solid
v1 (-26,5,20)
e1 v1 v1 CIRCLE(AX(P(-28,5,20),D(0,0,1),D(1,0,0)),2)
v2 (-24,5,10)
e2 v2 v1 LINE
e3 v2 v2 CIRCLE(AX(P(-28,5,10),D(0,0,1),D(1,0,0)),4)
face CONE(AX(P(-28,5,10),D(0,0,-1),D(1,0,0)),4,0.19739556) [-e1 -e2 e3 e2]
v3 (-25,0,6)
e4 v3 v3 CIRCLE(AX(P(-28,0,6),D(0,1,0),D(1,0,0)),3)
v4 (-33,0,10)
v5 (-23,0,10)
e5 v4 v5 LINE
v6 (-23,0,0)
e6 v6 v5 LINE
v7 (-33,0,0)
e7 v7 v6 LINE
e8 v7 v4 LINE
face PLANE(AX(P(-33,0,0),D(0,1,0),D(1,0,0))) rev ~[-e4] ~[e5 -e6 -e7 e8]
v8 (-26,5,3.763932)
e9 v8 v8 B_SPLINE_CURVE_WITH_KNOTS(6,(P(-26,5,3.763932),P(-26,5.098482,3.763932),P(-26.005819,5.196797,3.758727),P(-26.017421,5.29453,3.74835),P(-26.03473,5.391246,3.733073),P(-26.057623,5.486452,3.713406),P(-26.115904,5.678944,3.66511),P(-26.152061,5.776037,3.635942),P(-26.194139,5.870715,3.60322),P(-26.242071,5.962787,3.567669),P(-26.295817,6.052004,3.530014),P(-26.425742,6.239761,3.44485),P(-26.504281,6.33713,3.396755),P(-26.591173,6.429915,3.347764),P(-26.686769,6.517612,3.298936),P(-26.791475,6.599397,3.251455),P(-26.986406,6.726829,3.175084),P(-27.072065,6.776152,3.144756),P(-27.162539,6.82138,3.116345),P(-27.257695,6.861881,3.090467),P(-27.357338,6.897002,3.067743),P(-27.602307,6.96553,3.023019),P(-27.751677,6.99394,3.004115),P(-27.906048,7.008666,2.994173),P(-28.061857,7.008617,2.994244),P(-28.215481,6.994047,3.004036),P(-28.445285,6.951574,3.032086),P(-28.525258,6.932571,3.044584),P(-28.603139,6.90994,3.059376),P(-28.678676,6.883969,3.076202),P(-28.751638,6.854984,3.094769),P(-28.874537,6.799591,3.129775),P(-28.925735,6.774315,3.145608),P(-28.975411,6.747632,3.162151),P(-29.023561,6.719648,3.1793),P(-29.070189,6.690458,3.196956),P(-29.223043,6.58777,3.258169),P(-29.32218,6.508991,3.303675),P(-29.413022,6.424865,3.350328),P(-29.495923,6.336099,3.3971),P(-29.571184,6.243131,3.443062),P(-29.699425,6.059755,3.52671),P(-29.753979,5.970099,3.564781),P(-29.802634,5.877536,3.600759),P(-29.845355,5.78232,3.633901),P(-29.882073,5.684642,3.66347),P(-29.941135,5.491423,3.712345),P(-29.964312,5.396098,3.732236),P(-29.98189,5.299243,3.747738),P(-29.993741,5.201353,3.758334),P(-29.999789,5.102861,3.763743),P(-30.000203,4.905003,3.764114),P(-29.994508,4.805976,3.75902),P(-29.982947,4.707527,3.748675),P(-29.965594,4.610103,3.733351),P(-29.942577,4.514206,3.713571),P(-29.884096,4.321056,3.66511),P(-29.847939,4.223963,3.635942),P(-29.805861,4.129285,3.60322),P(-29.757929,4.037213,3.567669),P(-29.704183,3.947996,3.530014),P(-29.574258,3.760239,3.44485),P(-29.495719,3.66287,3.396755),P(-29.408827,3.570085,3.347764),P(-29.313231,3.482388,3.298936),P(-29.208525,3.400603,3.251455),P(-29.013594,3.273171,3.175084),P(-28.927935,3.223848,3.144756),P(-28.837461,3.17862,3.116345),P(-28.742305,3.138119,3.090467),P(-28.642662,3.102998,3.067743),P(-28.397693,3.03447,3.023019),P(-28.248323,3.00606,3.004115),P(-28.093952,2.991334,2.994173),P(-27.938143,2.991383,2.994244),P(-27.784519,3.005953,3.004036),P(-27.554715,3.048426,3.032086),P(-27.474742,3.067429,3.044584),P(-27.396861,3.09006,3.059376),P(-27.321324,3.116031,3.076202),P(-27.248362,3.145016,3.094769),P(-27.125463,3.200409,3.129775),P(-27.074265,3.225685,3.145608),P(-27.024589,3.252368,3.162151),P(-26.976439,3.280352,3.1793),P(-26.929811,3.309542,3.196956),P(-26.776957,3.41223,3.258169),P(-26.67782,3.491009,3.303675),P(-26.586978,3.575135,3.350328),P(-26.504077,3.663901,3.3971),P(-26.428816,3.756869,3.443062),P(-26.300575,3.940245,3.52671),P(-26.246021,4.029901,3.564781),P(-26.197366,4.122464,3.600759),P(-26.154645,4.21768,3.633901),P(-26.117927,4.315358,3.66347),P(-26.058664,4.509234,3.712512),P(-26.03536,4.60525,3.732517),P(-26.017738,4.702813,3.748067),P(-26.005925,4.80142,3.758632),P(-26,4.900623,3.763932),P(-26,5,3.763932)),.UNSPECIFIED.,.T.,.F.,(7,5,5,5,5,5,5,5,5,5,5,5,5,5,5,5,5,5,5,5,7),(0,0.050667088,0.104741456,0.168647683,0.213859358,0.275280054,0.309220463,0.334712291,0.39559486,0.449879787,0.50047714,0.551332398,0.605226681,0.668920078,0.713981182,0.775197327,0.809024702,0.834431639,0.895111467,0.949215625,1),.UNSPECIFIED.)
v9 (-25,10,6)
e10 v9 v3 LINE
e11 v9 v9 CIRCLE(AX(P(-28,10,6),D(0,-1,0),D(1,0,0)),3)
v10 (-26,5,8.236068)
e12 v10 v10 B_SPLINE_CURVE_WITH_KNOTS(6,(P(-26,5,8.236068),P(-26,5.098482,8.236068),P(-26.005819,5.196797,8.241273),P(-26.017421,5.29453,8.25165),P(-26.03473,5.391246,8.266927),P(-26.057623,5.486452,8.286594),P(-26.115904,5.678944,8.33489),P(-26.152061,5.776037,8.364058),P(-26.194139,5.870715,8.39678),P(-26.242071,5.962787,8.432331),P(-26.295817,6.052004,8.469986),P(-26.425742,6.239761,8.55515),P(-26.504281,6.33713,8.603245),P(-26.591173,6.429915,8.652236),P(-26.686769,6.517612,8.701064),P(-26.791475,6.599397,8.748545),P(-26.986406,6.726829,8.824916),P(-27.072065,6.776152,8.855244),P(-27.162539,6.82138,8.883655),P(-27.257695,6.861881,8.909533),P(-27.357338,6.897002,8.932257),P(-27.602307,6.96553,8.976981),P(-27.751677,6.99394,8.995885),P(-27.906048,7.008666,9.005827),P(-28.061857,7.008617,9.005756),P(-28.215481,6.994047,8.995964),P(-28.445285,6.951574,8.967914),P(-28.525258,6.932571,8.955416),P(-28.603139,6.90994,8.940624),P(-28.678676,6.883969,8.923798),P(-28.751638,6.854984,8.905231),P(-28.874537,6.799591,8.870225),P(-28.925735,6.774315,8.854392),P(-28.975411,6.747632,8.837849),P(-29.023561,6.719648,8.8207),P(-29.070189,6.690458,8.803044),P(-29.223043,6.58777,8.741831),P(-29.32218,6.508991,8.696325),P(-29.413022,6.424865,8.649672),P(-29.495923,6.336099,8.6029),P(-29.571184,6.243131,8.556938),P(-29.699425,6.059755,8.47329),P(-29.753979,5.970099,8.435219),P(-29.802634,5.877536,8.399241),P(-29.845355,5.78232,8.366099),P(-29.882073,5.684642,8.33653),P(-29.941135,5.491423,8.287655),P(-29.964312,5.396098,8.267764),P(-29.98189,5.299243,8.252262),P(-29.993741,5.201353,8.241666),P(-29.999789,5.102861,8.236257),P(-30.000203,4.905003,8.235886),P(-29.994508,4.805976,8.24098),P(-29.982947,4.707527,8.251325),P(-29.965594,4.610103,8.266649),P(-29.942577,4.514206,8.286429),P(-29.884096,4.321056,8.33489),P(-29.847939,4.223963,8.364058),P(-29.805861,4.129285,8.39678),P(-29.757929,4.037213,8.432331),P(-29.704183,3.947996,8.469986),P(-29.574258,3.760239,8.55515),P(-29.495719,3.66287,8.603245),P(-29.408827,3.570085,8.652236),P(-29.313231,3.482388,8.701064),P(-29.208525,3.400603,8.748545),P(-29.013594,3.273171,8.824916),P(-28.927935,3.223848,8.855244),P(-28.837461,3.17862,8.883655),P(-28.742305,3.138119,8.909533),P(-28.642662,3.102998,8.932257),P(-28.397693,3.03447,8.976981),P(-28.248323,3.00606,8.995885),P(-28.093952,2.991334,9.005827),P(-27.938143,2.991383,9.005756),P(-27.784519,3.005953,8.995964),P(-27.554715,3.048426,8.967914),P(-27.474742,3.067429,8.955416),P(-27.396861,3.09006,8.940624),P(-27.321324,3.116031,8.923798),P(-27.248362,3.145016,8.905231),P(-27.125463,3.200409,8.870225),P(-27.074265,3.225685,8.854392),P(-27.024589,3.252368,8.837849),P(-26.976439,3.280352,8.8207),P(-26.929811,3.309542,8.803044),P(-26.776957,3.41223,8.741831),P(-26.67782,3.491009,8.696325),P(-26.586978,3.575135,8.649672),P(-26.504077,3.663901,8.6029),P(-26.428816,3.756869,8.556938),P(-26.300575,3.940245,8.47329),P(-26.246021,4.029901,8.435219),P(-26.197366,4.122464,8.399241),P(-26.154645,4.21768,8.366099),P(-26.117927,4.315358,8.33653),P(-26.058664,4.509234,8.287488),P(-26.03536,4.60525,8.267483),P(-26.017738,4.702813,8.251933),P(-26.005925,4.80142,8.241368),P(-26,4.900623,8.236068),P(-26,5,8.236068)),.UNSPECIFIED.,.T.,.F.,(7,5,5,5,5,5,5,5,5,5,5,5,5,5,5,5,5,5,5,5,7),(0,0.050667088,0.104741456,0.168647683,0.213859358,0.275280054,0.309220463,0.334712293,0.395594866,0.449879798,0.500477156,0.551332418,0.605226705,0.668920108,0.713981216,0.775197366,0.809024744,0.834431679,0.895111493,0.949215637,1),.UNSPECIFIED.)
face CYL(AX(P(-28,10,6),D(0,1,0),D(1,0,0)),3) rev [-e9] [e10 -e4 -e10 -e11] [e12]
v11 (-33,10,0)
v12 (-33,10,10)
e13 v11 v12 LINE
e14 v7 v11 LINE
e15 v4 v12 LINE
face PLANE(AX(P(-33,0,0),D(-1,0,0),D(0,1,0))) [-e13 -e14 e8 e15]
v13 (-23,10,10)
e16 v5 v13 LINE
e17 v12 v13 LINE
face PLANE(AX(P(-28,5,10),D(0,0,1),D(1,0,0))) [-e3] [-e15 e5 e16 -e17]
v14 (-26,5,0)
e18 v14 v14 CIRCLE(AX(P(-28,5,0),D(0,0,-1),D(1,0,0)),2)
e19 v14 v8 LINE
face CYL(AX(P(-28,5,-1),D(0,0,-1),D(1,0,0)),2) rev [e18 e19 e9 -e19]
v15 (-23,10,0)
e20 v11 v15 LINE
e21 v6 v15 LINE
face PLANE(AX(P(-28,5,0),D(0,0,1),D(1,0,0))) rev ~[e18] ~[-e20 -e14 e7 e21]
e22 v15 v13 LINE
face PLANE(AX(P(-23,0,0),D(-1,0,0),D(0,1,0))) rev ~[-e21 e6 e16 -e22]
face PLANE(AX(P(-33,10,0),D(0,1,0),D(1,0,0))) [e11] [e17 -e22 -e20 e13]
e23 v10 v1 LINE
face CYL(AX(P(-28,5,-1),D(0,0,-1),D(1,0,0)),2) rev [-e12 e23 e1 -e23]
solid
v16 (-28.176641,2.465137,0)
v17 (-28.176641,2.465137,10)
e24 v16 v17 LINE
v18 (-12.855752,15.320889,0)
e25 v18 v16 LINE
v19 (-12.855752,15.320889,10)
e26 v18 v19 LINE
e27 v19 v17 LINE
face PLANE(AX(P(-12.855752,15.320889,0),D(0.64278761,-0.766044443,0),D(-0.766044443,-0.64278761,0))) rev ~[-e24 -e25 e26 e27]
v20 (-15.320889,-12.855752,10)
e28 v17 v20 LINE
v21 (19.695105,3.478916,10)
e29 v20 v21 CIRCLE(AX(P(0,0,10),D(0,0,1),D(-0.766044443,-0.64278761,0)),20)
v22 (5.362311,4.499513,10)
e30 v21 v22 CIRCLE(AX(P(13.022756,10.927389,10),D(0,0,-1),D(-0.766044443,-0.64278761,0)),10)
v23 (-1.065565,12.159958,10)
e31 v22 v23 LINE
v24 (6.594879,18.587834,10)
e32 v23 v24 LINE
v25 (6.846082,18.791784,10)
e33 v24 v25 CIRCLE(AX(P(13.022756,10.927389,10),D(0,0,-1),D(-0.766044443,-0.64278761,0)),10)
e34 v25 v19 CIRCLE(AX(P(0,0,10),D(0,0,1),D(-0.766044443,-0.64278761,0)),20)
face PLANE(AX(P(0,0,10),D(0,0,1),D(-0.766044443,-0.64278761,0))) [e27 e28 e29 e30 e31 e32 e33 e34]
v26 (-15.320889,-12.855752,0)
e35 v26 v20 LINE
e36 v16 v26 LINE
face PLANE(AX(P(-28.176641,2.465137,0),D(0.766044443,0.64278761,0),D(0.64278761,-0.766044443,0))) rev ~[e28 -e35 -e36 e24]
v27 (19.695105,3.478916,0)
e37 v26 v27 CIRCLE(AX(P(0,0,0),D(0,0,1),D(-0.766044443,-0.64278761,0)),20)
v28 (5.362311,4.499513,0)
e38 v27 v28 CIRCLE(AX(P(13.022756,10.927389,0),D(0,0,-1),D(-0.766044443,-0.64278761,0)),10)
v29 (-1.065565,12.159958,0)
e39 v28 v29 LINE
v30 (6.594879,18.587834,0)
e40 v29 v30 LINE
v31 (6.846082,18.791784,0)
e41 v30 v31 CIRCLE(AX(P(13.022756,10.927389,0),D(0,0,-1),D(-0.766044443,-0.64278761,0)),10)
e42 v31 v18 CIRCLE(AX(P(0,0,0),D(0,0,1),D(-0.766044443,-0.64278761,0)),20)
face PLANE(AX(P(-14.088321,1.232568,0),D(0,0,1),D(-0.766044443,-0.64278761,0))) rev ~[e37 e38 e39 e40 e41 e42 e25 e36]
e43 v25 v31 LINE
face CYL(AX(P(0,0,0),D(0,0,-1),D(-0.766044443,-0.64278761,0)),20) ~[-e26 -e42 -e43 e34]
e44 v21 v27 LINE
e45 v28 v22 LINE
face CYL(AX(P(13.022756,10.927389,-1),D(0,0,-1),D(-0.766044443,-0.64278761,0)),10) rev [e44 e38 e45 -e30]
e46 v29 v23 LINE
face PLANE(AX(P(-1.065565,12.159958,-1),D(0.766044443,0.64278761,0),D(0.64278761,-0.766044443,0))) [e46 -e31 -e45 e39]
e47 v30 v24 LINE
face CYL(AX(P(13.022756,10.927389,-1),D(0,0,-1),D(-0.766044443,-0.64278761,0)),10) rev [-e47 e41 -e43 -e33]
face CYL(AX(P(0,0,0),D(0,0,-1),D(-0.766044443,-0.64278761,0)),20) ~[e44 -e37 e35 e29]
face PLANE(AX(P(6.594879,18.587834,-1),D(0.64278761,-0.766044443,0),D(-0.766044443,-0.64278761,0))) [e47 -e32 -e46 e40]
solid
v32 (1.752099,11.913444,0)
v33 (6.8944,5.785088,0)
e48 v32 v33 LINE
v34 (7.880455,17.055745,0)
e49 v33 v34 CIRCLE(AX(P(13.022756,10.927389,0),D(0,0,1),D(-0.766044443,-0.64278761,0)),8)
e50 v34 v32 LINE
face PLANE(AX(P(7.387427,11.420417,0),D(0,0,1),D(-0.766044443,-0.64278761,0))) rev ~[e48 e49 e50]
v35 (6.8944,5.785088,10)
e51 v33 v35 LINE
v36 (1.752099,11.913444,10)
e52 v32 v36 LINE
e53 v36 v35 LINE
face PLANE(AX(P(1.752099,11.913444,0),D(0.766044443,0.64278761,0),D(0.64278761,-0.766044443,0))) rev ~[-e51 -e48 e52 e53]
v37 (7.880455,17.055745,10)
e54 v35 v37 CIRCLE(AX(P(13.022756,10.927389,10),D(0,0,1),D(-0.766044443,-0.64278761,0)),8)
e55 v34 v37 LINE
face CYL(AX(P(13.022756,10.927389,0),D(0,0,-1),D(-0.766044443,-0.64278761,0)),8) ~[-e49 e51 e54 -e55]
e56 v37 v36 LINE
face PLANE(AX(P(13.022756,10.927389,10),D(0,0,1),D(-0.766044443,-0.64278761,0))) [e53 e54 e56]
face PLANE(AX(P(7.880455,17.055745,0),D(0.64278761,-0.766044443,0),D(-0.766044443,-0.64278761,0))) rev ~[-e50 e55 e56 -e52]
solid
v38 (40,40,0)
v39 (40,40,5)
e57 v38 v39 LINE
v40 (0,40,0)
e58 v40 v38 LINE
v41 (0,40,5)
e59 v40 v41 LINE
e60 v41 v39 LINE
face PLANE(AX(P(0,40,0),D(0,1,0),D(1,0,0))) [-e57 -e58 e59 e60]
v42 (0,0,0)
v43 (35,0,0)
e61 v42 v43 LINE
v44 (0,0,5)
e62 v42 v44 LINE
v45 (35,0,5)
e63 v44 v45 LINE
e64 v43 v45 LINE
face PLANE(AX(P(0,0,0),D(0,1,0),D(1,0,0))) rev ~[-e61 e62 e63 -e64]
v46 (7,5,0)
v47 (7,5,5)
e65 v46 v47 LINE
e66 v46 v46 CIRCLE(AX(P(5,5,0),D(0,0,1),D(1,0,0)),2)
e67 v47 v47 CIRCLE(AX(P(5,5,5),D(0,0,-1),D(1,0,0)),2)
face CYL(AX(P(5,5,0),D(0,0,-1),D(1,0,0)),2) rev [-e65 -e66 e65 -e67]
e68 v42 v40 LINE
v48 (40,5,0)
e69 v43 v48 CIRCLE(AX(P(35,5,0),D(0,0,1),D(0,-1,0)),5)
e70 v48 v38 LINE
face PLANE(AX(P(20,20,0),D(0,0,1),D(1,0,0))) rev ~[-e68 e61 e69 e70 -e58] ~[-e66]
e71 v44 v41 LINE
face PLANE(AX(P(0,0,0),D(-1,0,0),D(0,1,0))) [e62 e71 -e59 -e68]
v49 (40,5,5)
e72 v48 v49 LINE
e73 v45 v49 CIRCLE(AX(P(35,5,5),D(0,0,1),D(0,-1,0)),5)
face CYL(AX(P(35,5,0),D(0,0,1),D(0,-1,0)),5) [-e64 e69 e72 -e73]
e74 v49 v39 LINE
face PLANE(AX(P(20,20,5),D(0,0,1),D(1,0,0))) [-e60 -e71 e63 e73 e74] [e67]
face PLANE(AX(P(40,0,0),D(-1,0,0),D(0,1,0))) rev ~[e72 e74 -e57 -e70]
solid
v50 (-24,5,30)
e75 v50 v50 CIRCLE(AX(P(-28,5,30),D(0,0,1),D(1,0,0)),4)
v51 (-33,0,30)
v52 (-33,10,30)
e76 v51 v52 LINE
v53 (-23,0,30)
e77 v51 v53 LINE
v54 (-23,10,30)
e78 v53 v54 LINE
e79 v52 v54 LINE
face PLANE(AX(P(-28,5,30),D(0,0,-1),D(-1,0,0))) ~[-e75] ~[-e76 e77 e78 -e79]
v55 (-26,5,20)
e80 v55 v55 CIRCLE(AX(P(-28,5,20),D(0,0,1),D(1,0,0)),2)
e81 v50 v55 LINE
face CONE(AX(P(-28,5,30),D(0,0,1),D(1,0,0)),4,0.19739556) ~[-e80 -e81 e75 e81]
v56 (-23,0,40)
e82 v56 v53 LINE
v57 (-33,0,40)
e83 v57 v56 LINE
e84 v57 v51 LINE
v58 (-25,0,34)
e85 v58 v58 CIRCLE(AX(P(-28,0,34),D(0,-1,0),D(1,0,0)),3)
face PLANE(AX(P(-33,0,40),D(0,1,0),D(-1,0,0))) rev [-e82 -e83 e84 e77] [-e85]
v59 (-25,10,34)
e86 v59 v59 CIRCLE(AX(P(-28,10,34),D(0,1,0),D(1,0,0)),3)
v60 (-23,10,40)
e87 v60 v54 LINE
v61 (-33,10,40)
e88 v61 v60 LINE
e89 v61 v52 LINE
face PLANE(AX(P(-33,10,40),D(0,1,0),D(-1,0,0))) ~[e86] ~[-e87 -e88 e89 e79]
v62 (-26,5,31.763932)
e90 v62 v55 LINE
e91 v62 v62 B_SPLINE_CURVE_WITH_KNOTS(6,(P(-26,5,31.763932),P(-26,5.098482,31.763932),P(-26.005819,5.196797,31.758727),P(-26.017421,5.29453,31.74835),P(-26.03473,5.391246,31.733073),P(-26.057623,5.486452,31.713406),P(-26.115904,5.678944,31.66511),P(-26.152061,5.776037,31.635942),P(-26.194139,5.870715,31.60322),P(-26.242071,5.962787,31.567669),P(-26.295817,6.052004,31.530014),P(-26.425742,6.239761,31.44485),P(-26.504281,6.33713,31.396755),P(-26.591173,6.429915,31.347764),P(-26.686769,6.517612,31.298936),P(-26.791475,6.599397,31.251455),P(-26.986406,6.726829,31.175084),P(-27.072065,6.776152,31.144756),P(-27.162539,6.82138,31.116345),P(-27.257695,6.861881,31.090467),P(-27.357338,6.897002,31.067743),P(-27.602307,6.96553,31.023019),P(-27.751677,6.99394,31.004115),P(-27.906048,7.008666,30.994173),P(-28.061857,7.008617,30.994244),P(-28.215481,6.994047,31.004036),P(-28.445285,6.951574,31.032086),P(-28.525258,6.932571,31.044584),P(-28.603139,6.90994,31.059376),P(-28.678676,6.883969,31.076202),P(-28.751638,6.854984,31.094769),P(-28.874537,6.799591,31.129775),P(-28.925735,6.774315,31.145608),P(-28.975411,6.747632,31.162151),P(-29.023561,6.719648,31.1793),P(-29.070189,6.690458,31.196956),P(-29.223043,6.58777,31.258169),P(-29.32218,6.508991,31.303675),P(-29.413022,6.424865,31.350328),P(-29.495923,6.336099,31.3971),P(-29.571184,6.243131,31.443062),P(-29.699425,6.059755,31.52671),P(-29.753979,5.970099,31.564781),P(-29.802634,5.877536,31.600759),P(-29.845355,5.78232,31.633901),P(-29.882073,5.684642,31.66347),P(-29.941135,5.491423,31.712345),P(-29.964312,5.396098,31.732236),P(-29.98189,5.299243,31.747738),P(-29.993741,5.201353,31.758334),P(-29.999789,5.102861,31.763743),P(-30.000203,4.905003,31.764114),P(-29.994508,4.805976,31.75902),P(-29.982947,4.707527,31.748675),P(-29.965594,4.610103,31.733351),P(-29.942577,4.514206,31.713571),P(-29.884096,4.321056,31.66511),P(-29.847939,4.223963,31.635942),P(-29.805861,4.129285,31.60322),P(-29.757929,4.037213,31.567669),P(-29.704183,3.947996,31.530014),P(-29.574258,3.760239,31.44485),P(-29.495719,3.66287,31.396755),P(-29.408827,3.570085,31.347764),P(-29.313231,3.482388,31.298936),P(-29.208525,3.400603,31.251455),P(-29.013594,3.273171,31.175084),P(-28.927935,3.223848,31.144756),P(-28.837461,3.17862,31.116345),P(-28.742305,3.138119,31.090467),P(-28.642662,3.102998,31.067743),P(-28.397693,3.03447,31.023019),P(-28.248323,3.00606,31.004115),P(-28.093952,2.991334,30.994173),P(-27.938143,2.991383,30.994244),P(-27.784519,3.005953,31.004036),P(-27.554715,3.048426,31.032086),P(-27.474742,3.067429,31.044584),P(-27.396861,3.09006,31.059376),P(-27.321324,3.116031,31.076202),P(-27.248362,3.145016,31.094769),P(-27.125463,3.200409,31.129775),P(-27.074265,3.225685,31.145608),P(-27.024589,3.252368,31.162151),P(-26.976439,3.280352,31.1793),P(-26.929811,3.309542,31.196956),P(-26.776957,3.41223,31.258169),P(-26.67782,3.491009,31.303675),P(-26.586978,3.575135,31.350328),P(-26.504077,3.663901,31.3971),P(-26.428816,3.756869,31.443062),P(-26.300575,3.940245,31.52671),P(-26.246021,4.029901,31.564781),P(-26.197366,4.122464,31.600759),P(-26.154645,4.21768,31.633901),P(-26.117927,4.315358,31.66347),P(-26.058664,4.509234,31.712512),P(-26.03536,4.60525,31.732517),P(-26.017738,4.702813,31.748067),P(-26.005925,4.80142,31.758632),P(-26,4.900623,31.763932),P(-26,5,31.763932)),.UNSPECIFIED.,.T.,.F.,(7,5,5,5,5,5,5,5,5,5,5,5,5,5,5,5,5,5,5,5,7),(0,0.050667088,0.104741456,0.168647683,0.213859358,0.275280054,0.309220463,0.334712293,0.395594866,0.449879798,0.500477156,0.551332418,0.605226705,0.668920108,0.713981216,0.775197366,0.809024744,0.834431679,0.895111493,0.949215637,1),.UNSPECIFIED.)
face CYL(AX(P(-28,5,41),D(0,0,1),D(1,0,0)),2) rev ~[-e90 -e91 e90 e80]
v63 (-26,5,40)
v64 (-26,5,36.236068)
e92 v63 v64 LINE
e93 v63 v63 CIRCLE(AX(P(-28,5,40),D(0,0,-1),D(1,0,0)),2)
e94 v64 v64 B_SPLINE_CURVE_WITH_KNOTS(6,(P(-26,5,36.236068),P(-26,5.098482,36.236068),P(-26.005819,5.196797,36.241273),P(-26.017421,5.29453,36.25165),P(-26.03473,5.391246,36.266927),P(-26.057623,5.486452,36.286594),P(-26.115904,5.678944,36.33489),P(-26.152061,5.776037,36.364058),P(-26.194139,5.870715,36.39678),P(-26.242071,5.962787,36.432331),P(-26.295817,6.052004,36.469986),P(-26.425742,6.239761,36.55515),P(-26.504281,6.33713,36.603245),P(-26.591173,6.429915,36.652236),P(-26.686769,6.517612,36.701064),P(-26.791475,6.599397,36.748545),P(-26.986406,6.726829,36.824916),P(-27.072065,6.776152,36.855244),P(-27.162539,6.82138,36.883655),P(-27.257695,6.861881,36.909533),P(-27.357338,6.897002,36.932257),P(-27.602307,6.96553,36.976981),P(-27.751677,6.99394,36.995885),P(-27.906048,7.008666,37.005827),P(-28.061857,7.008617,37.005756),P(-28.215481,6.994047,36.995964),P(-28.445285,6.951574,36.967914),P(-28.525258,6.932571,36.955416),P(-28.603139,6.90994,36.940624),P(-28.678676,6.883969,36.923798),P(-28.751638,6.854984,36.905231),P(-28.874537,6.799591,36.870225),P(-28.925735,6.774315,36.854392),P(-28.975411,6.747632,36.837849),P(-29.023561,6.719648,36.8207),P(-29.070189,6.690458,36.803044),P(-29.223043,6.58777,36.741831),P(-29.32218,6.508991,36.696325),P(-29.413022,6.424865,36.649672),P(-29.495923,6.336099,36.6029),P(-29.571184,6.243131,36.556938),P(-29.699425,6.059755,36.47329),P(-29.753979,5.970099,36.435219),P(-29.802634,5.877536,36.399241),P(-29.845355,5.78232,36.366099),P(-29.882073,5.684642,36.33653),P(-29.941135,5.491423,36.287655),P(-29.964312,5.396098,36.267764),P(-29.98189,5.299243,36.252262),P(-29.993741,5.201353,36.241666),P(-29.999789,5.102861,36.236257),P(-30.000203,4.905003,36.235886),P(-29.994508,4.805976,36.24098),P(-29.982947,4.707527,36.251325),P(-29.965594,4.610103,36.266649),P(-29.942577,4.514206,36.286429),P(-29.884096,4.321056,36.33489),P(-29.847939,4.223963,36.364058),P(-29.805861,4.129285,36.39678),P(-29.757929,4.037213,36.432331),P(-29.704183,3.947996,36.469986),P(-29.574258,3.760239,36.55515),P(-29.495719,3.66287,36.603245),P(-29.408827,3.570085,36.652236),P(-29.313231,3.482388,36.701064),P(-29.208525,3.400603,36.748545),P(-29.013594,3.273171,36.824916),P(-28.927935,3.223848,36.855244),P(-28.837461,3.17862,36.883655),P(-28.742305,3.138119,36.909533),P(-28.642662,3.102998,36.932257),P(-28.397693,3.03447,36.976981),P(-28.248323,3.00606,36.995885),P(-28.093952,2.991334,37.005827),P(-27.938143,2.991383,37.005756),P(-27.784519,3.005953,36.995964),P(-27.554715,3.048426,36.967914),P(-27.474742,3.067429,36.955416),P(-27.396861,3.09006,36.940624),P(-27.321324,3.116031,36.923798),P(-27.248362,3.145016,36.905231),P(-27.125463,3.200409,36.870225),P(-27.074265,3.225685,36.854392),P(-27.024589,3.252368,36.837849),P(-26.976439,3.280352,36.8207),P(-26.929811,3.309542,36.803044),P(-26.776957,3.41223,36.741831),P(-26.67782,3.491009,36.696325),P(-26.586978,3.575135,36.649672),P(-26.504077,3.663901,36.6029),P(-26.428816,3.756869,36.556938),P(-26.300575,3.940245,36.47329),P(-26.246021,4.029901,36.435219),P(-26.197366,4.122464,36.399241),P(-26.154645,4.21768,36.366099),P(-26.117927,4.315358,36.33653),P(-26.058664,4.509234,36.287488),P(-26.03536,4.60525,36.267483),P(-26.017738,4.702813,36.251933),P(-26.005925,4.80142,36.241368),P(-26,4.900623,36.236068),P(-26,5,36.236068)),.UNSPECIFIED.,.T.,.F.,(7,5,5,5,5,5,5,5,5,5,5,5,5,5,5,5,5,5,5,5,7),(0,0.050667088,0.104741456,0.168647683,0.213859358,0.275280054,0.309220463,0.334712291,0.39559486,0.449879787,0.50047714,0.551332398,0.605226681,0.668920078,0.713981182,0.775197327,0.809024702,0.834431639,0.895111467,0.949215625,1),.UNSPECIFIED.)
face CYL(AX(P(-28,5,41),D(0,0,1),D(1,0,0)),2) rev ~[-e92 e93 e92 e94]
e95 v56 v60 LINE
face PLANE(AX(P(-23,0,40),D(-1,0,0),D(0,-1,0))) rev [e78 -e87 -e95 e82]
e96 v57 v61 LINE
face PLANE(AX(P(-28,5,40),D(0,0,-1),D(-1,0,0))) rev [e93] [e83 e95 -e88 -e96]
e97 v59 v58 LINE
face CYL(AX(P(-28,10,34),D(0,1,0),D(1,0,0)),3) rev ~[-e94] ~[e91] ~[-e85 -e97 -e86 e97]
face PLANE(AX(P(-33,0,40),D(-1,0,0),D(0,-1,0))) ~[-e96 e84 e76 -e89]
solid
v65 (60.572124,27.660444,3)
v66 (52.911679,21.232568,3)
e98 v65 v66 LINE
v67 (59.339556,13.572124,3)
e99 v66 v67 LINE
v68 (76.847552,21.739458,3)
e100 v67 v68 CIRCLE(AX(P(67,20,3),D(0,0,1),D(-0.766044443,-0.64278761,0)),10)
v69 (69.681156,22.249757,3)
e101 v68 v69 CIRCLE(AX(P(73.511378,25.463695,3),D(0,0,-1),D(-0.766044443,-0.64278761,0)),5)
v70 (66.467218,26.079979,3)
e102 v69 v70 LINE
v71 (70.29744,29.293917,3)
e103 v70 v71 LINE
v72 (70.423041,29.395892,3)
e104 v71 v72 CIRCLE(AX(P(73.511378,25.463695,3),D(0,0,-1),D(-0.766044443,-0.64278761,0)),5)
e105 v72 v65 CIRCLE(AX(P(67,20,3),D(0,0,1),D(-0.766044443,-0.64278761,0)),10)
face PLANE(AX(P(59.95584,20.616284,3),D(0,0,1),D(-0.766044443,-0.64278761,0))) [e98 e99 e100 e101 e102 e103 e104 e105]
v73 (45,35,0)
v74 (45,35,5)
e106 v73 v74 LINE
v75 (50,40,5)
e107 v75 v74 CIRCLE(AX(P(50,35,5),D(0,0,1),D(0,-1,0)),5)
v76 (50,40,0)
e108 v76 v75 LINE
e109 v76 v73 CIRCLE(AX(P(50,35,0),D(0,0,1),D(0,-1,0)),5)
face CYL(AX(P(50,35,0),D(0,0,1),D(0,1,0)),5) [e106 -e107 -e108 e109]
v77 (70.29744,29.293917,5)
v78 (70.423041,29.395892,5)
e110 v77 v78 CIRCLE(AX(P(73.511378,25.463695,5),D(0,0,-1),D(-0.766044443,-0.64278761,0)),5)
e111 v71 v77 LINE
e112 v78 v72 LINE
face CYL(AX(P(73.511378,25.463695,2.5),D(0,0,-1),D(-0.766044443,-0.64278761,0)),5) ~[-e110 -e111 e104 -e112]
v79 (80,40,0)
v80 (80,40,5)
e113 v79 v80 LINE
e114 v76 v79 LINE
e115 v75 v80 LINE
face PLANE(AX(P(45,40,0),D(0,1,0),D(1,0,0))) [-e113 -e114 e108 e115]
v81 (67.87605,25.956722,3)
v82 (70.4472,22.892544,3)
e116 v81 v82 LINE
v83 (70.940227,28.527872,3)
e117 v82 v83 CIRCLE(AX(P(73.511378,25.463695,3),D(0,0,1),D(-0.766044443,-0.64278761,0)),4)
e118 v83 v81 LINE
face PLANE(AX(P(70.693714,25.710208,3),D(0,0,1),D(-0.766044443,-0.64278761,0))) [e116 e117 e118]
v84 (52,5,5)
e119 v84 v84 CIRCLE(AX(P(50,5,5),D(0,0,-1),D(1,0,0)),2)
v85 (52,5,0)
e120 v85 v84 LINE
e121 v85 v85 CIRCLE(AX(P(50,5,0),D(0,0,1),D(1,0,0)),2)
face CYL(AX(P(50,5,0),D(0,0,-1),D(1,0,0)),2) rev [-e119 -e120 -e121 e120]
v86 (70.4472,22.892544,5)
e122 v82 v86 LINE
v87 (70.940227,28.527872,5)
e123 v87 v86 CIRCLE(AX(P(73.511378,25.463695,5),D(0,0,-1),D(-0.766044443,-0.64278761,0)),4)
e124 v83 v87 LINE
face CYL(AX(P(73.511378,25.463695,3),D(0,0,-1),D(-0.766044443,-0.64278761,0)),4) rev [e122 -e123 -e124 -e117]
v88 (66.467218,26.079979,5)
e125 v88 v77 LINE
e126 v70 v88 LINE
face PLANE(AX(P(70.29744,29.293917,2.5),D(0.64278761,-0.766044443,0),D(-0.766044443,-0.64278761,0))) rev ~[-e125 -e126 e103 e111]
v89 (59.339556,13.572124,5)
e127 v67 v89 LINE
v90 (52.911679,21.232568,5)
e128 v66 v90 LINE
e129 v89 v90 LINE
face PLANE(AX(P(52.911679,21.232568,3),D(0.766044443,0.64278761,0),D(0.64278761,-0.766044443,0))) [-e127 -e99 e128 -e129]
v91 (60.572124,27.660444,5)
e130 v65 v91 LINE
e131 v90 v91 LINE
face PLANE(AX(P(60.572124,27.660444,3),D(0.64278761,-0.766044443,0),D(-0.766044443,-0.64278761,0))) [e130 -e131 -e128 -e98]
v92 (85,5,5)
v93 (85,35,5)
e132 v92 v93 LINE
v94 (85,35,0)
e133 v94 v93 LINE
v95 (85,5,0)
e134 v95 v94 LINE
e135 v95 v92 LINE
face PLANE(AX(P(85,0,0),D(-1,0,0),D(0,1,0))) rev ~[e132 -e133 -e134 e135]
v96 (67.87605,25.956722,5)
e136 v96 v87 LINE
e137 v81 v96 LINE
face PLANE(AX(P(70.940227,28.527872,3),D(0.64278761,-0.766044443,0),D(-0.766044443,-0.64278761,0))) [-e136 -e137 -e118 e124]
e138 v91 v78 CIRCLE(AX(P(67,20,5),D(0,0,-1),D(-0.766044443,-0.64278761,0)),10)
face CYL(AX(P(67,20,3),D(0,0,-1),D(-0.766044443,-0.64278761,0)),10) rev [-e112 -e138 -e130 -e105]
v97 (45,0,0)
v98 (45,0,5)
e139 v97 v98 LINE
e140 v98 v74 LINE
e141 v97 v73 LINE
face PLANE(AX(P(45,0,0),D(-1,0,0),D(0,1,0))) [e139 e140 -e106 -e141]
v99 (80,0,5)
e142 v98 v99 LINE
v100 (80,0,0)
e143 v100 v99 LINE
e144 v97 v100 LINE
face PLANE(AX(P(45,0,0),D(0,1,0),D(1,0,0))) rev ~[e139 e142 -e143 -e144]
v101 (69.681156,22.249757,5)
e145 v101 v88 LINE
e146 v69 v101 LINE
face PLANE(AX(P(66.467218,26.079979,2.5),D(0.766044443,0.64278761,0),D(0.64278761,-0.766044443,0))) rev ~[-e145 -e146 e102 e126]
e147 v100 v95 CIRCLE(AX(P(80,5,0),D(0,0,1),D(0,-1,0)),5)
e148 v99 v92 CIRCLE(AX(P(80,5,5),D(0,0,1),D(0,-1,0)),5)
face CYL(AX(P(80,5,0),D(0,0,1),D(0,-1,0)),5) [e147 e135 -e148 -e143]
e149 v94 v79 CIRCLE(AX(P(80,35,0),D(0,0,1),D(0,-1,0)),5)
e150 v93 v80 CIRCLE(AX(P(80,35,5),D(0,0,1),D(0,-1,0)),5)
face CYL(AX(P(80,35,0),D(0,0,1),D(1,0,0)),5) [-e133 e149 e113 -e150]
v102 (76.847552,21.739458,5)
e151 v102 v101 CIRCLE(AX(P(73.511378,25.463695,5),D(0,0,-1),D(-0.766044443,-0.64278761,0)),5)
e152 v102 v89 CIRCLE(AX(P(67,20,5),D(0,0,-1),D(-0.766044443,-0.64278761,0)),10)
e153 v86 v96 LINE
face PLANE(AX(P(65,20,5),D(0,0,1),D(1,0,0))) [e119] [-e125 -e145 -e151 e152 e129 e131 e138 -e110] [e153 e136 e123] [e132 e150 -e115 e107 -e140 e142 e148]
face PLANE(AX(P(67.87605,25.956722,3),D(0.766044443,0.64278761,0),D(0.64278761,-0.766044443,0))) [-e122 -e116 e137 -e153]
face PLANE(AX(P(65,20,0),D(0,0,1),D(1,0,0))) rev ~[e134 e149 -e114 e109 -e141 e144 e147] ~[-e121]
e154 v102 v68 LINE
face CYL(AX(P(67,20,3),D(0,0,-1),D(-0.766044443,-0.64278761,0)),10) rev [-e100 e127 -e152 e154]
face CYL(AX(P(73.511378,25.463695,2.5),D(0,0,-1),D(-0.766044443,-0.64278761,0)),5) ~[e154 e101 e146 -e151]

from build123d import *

# Parameters (mm, degrees)
CYLINDER003_R             = 2
CYLINDER003_DEPTH         = 22
CYLINDER002_R             = 3
CYLINDER002_DEPTH         = 100
CYLINDER002_ROLL_ANGLE    = 90
BOX001_W                  = 10
BOX001_H                  = 10
BOX001_DEPTH              = 10
CYLINDER001_R             = 2
CYLINDER001_DEPTH         = 22
CYLINDER_R                = 3
CYLINDER_DEPTH            = 100
CYLINDER_ROLL_ANGLE       = 90
BOX_W                     = 10
BOX_H                     = 10
BOX_DEPTH                 = 10
CYLINDER005_R             = 2
CYLINDER005_DEPTH         = 10
BOX004_W                  = 40
BOX004_H                  = 40
BOX004_DEPTH              = 5
FILLET003_R               = 5
BOX006_W                  = 10
BOX006_H                  = 10
BOX006_DEPTH              = 12
CYLINDER007_R             = 10
CYLINDER007_DEPTH         = 12
BOX005_W                  = 20
BOX005_H                  = 20
BOX005_DEPTH              = 10
CYLINDER006_R             = 20
CYLINDER006_DEPTH         = 10
BOX003_W                  = 8
BOX003_H                  = 8
BOX003_DEPTH              = 10
CYLINDER008_R             = 8
CYLINDER008_DEPTH         = 10
FUSION006_PLACEMENT_ANGLE = 220
CLONE_SCALE_SCALE         = 0.5
CYLINDER004_R             = 2
CYLINDER004_DEPTH         = 10
BOX002_W                  = 40
BOX002_H                  = 40
BOX002_DEPTH              = 5
FILLET_R                  = 5
FILLET001_R               = 5
FILLET002_R               = 5


with BuildPart() as cylinder003:
    # Cylinder003 → Cylinder003 (new body)
    with BuildSketch(Plane(origin=(5, 5, -1), x_dir=(1, 0, 0), z_dir=(0, 0, 1))):
        Circle(CYLINDER003_R)
    extrude(amount=CYLINDER003_DEPTH)


with BuildPart() as cone001:
    # Cone001 → Cone001 (revolve)
    with BuildSketch(Plane(origin=(5, 5, 10), x_dir=(1, 0, 0), z_dir=(0, -1, 0))):
        Polygon((0, 0), (4, 0), (2, 10), (0, 10), align=None)
    revolve(axis=Axis((5, 5, 10), (0, 0, 1)))


with BuildPart() as cylinder002:
    # Cylinder002 → Cylinder002 (new body)
    with BuildSketch(Plane.XY):
        Circle(CYLINDER002_R)
    extrude(amount=CYLINDER002_DEPTH)


with BuildPart() as cylinder002_1:
    # Cylinder002 roll: moved
    add(cylinder002.part.rotate(Axis((0, 0, 0), (1, 0, 0)), CYLINDER002_ROLL_ANGLE))


with BuildPart() as cylinder002_2:
    # Cylinder002 placement: moved
    add(cylinder002_1.part.moved(Location((5, 10, 6))))


with BuildPart() as cut003:
    # Box001 → Box001 (new body)
    with BuildSketch(Plane.XY):
        with Locations((5, 5)):
            Rectangle(BOX001_W, BOX001_H)
    extrude(amount=BOX001_DEPTH)

    # Cut002: cut Cylinder002
    add(cylinder002_2.part, mode=Mode.SUBTRACT)

    # Fusion001: union Cone001
    add(cone001.part)

    # Cut003: cut Cylinder003
    add(cylinder003.part, mode=Mode.SUBTRACT)


with BuildPart() as cut003_1:
    # Cut003 placement: moved
    add(cut003.part.moved(Location((23, 0, 0))))


with BuildPart() as part_mirroring:
    # Part__Mirroring: instance of Cut003
    add(cut003_1.part.mirror(Plane(origin=(0, 0, 0), x_dir=(0, 1, 0), z_dir=(0, 0, 1))))


with BuildPart() as part_mirroring_1:
    # Part__Mirroring placement: moved
    add(part_mirroring.part.moved(Location((-23, 0, 40))))


with BuildPart() as cylinder001:
    # Cylinder001 → Cylinder001 (new body)
    with BuildSketch(Plane(origin=(5, 5, -1), x_dir=(1, 0, 0), z_dir=(0, 0, 1))):
        Circle(CYLINDER001_R)
    extrude(amount=CYLINDER001_DEPTH)


with BuildPart() as cone:
    # Cone → Cone (revolve)
    with BuildSketch(Plane(origin=(5, 5, 10), x_dir=(1, 0, 0), z_dir=(0, -1, 0))):
        Polygon((0, 0), (4, 0), (2, 10), (0, 10), align=None)
    revolve(axis=Axis((5, 5, 10), (0, 0, 1)))


with BuildPart() as cylinder:
    # Cylinder → Cylinder (new body)
    with BuildSketch(Plane.XY):
        Circle(CYLINDER_R)
    extrude(amount=CYLINDER_DEPTH)


with BuildPart() as cylinder_1:
    # Cylinder roll: moved
    add(cylinder.part.rotate(Axis((0, 0, 0), (1, 0, 0)), CYLINDER_ROLL_ANGLE))


with BuildPart() as cylinder_2:
    # Cylinder placement: moved
    add(cylinder_1.part.moved(Location((5, 10, 6))))


with BuildPart() as fusion002:
    # Box → Box (new body)
    with BuildSketch(Plane.XY):
        with Locations((5, 5)):
            Rectangle(BOX_W, BOX_H)
    extrude(amount=BOX_DEPTH)

    # Cut: cut Cylinder
    add(cylinder_2.part, mode=Mode.SUBTRACT)

    # Fusion: union Cone
    add(cone.part)

    # Cut001: cut Cylinder001
    add(cylinder001.part, mode=Mode.SUBTRACT)

    # Fusion002: union Part__Mirroring
    add(part_mirroring_1.part)


with BuildPart() as fusion002_1:
    # Fusion002 placement: moved
    add(fusion002.part.moved(Location((-33, 0, 0))))


with BuildPart() as cylinder005:
    # Cylinder005 → Cylinder005 (new body)
    with BuildSketch(Plane(origin=(5, 5, 0), x_dir=(1, 0, 0), z_dir=(0, 0, 1))):
        Circle(CYLINDER005_R)
    extrude(amount=CYLINDER005_DEPTH)


with BuildPart() as fillet003:
    # Box004 → Box004 (new body)
    with BuildSketch(Plane.XY):
        with Locations((20, 20)):
            Rectangle(BOX004_W, BOX004_H)
    extrude(amount=BOX004_DEPTH)

    # Cut006: cut Cylinder005
    add(cylinder005.part, mode=Mode.SUBTRACT)

    # Fillet003
    fillet003_edges = [fillet003.edges().sort_by_distance(p)[0] for p in [
        (40, 0, 2.5),
    ]]
    fillet(fillet003_edges, radius=FILLET003_R)


with BuildPart() as cube006:
    # Box006 → Box006 (new body)
    with BuildSketch(Plane(origin=(0, -10, -1), x_dir=(1, 0, 0), z_dir=(0, 0, 1))):
        with Locations((5, 5)):
            Rectangle(BOX006_W, BOX006_H)
    extrude(amount=BOX006_DEPTH)


with BuildPart() as fusion004:
    # Cylinder007 → Cylinder007 (new body)
    with BuildSketch(Plane.XY.offset(-1)):
        Circle(CYLINDER007_R)
    extrude(amount=CYLINDER007_DEPTH)

    # Fusion004: union Cube006
    add(cube006.part)


with BuildPart() as fusion004_1:
    # Fusion004 placement: moved
    add(fusion004.part.moved(Location((-17, 0, 0))))


with BuildPart() as cube005:
    # Box005 → Box005 (new body)
    with BuildSketch(Plane(origin=(0, -20, 0), x_dir=(1, 0, 0), z_dir=(0, 0, 1))):
        with Locations((10, 10)):
            Rectangle(BOX005_W, BOX005_H)
    extrude(amount=BOX005_DEPTH)


with BuildPart() as cut007:
    # Cylinder006 → Cylinder006 (new body)
    with BuildSketch(Plane.XY):
        Circle(CYLINDER006_R)
    extrude(amount=CYLINDER006_DEPTH)

    # Fusion003: union Cube005
    add(cube005.part)

    # Cut007: cut Fusion004
    add(fusion004_1.part, mode=Mode.SUBTRACT)


with BuildPart() as cube003:
    # Box003 → Box003 (new body)
    with BuildSketch(Plane(origin=(0, -8, 0), x_dir=(1, 0, 0), z_dir=(0, 0, 1))):
        with Locations((4, 4)):
            Rectangle(BOX003_W, BOX003_H)
    extrude(amount=BOX003_DEPTH)


with BuildPart() as rrl_logo:
    # Cylinder008 → Cylinder008 (new body)
    with BuildSketch(Plane.XY):
        Circle(CYLINDER008_R)
    extrude(amount=CYLINDER008_DEPTH)

    # Fusion005: union Cube003
    add(cube003.part)


with BuildPart() as rrl_logo_1:
    # Fusion005 placement: moved
    add(rrl_logo.part.moved(Location((-17, 0, 0))))

    # Fusion006: union Cut007
    add(cut007.part)


with BuildPart() as rrl_logo_2:
    # Fusion006 placement: moved
    add(rrl_logo_1.part.rotate(Axis((0, 0, 0), (0, 0, 1)), FUSION006_PLACEMENT_ANGLE))


with BuildPart() as clone_of_rrl_logo:
    # Clone base: copy of rrl-logo
    add(rrl_logo_2.part)


with BuildPart() as clone_of_rrl_logo_1:
    # Clone scale: moved
    add(clone_of_rrl_logo.part.scale(CLONE_SCALE_SCALE))


with BuildPart() as clone_of_rrl_logo_2:
    # Clone placement: moved
    add(clone_of_rrl_logo_1.part.moved(Location((67, 20, 3))))


with BuildPart() as cylinder004:
    # Cylinder004 → Cylinder004 (new body)
    with BuildSketch(Plane(origin=(5, 5, 0), x_dir=(1, 0, 0), z_dir=(0, 0, 1))):
        Circle(CYLINDER004_R)
    extrude(amount=CYLINDER004_DEPTH)


with BuildPart() as cut008:
    # Box002 → Box002 (new body)
    with BuildSketch(Plane.XY):
        with Locations((20, 20)):
            Rectangle(BOX002_W, BOX002_H)
    extrude(amount=BOX002_DEPTH)

    # Cut004: cut Cylinder004
    add(cylinder004.part, mode=Mode.SUBTRACT)

    # Fillet
    fillet_edges = [cut008.edges().sort_by_distance(p)[0] for p in [
        (40, 0, 2.5),
    ]]
    fillet(fillet_edges, radius=FILLET_R)

    # Fillet001
    fillet001_edges = [cut008.edges().sort_by_distance(p)[0] for p in [
        (40, 40, 2.5),
    ]]
    fillet(fillet001_edges, radius=FILLET001_R)

    # Fillet002
    fillet002_edges = [cut008.edges().sort_by_distance(p)[0] for p in [
        (0, 40, 2.5),
    ]]
    fillet(fillet002_edges, radius=FILLET002_R)


with BuildPart() as cut008_1:
    # Fillet002 placement: moved
    add(cut008.part.moved(Location((45, 0, 0))))

    # Cut008: cut Clone of rrl-logo
    add(clone_of_rrl_logo_2.part, mode=Mode.SUBTRACT)


solid = Compound([fusion002_1.part, fillet003.part, rrl_logo_2.part, cut008_1.part])
